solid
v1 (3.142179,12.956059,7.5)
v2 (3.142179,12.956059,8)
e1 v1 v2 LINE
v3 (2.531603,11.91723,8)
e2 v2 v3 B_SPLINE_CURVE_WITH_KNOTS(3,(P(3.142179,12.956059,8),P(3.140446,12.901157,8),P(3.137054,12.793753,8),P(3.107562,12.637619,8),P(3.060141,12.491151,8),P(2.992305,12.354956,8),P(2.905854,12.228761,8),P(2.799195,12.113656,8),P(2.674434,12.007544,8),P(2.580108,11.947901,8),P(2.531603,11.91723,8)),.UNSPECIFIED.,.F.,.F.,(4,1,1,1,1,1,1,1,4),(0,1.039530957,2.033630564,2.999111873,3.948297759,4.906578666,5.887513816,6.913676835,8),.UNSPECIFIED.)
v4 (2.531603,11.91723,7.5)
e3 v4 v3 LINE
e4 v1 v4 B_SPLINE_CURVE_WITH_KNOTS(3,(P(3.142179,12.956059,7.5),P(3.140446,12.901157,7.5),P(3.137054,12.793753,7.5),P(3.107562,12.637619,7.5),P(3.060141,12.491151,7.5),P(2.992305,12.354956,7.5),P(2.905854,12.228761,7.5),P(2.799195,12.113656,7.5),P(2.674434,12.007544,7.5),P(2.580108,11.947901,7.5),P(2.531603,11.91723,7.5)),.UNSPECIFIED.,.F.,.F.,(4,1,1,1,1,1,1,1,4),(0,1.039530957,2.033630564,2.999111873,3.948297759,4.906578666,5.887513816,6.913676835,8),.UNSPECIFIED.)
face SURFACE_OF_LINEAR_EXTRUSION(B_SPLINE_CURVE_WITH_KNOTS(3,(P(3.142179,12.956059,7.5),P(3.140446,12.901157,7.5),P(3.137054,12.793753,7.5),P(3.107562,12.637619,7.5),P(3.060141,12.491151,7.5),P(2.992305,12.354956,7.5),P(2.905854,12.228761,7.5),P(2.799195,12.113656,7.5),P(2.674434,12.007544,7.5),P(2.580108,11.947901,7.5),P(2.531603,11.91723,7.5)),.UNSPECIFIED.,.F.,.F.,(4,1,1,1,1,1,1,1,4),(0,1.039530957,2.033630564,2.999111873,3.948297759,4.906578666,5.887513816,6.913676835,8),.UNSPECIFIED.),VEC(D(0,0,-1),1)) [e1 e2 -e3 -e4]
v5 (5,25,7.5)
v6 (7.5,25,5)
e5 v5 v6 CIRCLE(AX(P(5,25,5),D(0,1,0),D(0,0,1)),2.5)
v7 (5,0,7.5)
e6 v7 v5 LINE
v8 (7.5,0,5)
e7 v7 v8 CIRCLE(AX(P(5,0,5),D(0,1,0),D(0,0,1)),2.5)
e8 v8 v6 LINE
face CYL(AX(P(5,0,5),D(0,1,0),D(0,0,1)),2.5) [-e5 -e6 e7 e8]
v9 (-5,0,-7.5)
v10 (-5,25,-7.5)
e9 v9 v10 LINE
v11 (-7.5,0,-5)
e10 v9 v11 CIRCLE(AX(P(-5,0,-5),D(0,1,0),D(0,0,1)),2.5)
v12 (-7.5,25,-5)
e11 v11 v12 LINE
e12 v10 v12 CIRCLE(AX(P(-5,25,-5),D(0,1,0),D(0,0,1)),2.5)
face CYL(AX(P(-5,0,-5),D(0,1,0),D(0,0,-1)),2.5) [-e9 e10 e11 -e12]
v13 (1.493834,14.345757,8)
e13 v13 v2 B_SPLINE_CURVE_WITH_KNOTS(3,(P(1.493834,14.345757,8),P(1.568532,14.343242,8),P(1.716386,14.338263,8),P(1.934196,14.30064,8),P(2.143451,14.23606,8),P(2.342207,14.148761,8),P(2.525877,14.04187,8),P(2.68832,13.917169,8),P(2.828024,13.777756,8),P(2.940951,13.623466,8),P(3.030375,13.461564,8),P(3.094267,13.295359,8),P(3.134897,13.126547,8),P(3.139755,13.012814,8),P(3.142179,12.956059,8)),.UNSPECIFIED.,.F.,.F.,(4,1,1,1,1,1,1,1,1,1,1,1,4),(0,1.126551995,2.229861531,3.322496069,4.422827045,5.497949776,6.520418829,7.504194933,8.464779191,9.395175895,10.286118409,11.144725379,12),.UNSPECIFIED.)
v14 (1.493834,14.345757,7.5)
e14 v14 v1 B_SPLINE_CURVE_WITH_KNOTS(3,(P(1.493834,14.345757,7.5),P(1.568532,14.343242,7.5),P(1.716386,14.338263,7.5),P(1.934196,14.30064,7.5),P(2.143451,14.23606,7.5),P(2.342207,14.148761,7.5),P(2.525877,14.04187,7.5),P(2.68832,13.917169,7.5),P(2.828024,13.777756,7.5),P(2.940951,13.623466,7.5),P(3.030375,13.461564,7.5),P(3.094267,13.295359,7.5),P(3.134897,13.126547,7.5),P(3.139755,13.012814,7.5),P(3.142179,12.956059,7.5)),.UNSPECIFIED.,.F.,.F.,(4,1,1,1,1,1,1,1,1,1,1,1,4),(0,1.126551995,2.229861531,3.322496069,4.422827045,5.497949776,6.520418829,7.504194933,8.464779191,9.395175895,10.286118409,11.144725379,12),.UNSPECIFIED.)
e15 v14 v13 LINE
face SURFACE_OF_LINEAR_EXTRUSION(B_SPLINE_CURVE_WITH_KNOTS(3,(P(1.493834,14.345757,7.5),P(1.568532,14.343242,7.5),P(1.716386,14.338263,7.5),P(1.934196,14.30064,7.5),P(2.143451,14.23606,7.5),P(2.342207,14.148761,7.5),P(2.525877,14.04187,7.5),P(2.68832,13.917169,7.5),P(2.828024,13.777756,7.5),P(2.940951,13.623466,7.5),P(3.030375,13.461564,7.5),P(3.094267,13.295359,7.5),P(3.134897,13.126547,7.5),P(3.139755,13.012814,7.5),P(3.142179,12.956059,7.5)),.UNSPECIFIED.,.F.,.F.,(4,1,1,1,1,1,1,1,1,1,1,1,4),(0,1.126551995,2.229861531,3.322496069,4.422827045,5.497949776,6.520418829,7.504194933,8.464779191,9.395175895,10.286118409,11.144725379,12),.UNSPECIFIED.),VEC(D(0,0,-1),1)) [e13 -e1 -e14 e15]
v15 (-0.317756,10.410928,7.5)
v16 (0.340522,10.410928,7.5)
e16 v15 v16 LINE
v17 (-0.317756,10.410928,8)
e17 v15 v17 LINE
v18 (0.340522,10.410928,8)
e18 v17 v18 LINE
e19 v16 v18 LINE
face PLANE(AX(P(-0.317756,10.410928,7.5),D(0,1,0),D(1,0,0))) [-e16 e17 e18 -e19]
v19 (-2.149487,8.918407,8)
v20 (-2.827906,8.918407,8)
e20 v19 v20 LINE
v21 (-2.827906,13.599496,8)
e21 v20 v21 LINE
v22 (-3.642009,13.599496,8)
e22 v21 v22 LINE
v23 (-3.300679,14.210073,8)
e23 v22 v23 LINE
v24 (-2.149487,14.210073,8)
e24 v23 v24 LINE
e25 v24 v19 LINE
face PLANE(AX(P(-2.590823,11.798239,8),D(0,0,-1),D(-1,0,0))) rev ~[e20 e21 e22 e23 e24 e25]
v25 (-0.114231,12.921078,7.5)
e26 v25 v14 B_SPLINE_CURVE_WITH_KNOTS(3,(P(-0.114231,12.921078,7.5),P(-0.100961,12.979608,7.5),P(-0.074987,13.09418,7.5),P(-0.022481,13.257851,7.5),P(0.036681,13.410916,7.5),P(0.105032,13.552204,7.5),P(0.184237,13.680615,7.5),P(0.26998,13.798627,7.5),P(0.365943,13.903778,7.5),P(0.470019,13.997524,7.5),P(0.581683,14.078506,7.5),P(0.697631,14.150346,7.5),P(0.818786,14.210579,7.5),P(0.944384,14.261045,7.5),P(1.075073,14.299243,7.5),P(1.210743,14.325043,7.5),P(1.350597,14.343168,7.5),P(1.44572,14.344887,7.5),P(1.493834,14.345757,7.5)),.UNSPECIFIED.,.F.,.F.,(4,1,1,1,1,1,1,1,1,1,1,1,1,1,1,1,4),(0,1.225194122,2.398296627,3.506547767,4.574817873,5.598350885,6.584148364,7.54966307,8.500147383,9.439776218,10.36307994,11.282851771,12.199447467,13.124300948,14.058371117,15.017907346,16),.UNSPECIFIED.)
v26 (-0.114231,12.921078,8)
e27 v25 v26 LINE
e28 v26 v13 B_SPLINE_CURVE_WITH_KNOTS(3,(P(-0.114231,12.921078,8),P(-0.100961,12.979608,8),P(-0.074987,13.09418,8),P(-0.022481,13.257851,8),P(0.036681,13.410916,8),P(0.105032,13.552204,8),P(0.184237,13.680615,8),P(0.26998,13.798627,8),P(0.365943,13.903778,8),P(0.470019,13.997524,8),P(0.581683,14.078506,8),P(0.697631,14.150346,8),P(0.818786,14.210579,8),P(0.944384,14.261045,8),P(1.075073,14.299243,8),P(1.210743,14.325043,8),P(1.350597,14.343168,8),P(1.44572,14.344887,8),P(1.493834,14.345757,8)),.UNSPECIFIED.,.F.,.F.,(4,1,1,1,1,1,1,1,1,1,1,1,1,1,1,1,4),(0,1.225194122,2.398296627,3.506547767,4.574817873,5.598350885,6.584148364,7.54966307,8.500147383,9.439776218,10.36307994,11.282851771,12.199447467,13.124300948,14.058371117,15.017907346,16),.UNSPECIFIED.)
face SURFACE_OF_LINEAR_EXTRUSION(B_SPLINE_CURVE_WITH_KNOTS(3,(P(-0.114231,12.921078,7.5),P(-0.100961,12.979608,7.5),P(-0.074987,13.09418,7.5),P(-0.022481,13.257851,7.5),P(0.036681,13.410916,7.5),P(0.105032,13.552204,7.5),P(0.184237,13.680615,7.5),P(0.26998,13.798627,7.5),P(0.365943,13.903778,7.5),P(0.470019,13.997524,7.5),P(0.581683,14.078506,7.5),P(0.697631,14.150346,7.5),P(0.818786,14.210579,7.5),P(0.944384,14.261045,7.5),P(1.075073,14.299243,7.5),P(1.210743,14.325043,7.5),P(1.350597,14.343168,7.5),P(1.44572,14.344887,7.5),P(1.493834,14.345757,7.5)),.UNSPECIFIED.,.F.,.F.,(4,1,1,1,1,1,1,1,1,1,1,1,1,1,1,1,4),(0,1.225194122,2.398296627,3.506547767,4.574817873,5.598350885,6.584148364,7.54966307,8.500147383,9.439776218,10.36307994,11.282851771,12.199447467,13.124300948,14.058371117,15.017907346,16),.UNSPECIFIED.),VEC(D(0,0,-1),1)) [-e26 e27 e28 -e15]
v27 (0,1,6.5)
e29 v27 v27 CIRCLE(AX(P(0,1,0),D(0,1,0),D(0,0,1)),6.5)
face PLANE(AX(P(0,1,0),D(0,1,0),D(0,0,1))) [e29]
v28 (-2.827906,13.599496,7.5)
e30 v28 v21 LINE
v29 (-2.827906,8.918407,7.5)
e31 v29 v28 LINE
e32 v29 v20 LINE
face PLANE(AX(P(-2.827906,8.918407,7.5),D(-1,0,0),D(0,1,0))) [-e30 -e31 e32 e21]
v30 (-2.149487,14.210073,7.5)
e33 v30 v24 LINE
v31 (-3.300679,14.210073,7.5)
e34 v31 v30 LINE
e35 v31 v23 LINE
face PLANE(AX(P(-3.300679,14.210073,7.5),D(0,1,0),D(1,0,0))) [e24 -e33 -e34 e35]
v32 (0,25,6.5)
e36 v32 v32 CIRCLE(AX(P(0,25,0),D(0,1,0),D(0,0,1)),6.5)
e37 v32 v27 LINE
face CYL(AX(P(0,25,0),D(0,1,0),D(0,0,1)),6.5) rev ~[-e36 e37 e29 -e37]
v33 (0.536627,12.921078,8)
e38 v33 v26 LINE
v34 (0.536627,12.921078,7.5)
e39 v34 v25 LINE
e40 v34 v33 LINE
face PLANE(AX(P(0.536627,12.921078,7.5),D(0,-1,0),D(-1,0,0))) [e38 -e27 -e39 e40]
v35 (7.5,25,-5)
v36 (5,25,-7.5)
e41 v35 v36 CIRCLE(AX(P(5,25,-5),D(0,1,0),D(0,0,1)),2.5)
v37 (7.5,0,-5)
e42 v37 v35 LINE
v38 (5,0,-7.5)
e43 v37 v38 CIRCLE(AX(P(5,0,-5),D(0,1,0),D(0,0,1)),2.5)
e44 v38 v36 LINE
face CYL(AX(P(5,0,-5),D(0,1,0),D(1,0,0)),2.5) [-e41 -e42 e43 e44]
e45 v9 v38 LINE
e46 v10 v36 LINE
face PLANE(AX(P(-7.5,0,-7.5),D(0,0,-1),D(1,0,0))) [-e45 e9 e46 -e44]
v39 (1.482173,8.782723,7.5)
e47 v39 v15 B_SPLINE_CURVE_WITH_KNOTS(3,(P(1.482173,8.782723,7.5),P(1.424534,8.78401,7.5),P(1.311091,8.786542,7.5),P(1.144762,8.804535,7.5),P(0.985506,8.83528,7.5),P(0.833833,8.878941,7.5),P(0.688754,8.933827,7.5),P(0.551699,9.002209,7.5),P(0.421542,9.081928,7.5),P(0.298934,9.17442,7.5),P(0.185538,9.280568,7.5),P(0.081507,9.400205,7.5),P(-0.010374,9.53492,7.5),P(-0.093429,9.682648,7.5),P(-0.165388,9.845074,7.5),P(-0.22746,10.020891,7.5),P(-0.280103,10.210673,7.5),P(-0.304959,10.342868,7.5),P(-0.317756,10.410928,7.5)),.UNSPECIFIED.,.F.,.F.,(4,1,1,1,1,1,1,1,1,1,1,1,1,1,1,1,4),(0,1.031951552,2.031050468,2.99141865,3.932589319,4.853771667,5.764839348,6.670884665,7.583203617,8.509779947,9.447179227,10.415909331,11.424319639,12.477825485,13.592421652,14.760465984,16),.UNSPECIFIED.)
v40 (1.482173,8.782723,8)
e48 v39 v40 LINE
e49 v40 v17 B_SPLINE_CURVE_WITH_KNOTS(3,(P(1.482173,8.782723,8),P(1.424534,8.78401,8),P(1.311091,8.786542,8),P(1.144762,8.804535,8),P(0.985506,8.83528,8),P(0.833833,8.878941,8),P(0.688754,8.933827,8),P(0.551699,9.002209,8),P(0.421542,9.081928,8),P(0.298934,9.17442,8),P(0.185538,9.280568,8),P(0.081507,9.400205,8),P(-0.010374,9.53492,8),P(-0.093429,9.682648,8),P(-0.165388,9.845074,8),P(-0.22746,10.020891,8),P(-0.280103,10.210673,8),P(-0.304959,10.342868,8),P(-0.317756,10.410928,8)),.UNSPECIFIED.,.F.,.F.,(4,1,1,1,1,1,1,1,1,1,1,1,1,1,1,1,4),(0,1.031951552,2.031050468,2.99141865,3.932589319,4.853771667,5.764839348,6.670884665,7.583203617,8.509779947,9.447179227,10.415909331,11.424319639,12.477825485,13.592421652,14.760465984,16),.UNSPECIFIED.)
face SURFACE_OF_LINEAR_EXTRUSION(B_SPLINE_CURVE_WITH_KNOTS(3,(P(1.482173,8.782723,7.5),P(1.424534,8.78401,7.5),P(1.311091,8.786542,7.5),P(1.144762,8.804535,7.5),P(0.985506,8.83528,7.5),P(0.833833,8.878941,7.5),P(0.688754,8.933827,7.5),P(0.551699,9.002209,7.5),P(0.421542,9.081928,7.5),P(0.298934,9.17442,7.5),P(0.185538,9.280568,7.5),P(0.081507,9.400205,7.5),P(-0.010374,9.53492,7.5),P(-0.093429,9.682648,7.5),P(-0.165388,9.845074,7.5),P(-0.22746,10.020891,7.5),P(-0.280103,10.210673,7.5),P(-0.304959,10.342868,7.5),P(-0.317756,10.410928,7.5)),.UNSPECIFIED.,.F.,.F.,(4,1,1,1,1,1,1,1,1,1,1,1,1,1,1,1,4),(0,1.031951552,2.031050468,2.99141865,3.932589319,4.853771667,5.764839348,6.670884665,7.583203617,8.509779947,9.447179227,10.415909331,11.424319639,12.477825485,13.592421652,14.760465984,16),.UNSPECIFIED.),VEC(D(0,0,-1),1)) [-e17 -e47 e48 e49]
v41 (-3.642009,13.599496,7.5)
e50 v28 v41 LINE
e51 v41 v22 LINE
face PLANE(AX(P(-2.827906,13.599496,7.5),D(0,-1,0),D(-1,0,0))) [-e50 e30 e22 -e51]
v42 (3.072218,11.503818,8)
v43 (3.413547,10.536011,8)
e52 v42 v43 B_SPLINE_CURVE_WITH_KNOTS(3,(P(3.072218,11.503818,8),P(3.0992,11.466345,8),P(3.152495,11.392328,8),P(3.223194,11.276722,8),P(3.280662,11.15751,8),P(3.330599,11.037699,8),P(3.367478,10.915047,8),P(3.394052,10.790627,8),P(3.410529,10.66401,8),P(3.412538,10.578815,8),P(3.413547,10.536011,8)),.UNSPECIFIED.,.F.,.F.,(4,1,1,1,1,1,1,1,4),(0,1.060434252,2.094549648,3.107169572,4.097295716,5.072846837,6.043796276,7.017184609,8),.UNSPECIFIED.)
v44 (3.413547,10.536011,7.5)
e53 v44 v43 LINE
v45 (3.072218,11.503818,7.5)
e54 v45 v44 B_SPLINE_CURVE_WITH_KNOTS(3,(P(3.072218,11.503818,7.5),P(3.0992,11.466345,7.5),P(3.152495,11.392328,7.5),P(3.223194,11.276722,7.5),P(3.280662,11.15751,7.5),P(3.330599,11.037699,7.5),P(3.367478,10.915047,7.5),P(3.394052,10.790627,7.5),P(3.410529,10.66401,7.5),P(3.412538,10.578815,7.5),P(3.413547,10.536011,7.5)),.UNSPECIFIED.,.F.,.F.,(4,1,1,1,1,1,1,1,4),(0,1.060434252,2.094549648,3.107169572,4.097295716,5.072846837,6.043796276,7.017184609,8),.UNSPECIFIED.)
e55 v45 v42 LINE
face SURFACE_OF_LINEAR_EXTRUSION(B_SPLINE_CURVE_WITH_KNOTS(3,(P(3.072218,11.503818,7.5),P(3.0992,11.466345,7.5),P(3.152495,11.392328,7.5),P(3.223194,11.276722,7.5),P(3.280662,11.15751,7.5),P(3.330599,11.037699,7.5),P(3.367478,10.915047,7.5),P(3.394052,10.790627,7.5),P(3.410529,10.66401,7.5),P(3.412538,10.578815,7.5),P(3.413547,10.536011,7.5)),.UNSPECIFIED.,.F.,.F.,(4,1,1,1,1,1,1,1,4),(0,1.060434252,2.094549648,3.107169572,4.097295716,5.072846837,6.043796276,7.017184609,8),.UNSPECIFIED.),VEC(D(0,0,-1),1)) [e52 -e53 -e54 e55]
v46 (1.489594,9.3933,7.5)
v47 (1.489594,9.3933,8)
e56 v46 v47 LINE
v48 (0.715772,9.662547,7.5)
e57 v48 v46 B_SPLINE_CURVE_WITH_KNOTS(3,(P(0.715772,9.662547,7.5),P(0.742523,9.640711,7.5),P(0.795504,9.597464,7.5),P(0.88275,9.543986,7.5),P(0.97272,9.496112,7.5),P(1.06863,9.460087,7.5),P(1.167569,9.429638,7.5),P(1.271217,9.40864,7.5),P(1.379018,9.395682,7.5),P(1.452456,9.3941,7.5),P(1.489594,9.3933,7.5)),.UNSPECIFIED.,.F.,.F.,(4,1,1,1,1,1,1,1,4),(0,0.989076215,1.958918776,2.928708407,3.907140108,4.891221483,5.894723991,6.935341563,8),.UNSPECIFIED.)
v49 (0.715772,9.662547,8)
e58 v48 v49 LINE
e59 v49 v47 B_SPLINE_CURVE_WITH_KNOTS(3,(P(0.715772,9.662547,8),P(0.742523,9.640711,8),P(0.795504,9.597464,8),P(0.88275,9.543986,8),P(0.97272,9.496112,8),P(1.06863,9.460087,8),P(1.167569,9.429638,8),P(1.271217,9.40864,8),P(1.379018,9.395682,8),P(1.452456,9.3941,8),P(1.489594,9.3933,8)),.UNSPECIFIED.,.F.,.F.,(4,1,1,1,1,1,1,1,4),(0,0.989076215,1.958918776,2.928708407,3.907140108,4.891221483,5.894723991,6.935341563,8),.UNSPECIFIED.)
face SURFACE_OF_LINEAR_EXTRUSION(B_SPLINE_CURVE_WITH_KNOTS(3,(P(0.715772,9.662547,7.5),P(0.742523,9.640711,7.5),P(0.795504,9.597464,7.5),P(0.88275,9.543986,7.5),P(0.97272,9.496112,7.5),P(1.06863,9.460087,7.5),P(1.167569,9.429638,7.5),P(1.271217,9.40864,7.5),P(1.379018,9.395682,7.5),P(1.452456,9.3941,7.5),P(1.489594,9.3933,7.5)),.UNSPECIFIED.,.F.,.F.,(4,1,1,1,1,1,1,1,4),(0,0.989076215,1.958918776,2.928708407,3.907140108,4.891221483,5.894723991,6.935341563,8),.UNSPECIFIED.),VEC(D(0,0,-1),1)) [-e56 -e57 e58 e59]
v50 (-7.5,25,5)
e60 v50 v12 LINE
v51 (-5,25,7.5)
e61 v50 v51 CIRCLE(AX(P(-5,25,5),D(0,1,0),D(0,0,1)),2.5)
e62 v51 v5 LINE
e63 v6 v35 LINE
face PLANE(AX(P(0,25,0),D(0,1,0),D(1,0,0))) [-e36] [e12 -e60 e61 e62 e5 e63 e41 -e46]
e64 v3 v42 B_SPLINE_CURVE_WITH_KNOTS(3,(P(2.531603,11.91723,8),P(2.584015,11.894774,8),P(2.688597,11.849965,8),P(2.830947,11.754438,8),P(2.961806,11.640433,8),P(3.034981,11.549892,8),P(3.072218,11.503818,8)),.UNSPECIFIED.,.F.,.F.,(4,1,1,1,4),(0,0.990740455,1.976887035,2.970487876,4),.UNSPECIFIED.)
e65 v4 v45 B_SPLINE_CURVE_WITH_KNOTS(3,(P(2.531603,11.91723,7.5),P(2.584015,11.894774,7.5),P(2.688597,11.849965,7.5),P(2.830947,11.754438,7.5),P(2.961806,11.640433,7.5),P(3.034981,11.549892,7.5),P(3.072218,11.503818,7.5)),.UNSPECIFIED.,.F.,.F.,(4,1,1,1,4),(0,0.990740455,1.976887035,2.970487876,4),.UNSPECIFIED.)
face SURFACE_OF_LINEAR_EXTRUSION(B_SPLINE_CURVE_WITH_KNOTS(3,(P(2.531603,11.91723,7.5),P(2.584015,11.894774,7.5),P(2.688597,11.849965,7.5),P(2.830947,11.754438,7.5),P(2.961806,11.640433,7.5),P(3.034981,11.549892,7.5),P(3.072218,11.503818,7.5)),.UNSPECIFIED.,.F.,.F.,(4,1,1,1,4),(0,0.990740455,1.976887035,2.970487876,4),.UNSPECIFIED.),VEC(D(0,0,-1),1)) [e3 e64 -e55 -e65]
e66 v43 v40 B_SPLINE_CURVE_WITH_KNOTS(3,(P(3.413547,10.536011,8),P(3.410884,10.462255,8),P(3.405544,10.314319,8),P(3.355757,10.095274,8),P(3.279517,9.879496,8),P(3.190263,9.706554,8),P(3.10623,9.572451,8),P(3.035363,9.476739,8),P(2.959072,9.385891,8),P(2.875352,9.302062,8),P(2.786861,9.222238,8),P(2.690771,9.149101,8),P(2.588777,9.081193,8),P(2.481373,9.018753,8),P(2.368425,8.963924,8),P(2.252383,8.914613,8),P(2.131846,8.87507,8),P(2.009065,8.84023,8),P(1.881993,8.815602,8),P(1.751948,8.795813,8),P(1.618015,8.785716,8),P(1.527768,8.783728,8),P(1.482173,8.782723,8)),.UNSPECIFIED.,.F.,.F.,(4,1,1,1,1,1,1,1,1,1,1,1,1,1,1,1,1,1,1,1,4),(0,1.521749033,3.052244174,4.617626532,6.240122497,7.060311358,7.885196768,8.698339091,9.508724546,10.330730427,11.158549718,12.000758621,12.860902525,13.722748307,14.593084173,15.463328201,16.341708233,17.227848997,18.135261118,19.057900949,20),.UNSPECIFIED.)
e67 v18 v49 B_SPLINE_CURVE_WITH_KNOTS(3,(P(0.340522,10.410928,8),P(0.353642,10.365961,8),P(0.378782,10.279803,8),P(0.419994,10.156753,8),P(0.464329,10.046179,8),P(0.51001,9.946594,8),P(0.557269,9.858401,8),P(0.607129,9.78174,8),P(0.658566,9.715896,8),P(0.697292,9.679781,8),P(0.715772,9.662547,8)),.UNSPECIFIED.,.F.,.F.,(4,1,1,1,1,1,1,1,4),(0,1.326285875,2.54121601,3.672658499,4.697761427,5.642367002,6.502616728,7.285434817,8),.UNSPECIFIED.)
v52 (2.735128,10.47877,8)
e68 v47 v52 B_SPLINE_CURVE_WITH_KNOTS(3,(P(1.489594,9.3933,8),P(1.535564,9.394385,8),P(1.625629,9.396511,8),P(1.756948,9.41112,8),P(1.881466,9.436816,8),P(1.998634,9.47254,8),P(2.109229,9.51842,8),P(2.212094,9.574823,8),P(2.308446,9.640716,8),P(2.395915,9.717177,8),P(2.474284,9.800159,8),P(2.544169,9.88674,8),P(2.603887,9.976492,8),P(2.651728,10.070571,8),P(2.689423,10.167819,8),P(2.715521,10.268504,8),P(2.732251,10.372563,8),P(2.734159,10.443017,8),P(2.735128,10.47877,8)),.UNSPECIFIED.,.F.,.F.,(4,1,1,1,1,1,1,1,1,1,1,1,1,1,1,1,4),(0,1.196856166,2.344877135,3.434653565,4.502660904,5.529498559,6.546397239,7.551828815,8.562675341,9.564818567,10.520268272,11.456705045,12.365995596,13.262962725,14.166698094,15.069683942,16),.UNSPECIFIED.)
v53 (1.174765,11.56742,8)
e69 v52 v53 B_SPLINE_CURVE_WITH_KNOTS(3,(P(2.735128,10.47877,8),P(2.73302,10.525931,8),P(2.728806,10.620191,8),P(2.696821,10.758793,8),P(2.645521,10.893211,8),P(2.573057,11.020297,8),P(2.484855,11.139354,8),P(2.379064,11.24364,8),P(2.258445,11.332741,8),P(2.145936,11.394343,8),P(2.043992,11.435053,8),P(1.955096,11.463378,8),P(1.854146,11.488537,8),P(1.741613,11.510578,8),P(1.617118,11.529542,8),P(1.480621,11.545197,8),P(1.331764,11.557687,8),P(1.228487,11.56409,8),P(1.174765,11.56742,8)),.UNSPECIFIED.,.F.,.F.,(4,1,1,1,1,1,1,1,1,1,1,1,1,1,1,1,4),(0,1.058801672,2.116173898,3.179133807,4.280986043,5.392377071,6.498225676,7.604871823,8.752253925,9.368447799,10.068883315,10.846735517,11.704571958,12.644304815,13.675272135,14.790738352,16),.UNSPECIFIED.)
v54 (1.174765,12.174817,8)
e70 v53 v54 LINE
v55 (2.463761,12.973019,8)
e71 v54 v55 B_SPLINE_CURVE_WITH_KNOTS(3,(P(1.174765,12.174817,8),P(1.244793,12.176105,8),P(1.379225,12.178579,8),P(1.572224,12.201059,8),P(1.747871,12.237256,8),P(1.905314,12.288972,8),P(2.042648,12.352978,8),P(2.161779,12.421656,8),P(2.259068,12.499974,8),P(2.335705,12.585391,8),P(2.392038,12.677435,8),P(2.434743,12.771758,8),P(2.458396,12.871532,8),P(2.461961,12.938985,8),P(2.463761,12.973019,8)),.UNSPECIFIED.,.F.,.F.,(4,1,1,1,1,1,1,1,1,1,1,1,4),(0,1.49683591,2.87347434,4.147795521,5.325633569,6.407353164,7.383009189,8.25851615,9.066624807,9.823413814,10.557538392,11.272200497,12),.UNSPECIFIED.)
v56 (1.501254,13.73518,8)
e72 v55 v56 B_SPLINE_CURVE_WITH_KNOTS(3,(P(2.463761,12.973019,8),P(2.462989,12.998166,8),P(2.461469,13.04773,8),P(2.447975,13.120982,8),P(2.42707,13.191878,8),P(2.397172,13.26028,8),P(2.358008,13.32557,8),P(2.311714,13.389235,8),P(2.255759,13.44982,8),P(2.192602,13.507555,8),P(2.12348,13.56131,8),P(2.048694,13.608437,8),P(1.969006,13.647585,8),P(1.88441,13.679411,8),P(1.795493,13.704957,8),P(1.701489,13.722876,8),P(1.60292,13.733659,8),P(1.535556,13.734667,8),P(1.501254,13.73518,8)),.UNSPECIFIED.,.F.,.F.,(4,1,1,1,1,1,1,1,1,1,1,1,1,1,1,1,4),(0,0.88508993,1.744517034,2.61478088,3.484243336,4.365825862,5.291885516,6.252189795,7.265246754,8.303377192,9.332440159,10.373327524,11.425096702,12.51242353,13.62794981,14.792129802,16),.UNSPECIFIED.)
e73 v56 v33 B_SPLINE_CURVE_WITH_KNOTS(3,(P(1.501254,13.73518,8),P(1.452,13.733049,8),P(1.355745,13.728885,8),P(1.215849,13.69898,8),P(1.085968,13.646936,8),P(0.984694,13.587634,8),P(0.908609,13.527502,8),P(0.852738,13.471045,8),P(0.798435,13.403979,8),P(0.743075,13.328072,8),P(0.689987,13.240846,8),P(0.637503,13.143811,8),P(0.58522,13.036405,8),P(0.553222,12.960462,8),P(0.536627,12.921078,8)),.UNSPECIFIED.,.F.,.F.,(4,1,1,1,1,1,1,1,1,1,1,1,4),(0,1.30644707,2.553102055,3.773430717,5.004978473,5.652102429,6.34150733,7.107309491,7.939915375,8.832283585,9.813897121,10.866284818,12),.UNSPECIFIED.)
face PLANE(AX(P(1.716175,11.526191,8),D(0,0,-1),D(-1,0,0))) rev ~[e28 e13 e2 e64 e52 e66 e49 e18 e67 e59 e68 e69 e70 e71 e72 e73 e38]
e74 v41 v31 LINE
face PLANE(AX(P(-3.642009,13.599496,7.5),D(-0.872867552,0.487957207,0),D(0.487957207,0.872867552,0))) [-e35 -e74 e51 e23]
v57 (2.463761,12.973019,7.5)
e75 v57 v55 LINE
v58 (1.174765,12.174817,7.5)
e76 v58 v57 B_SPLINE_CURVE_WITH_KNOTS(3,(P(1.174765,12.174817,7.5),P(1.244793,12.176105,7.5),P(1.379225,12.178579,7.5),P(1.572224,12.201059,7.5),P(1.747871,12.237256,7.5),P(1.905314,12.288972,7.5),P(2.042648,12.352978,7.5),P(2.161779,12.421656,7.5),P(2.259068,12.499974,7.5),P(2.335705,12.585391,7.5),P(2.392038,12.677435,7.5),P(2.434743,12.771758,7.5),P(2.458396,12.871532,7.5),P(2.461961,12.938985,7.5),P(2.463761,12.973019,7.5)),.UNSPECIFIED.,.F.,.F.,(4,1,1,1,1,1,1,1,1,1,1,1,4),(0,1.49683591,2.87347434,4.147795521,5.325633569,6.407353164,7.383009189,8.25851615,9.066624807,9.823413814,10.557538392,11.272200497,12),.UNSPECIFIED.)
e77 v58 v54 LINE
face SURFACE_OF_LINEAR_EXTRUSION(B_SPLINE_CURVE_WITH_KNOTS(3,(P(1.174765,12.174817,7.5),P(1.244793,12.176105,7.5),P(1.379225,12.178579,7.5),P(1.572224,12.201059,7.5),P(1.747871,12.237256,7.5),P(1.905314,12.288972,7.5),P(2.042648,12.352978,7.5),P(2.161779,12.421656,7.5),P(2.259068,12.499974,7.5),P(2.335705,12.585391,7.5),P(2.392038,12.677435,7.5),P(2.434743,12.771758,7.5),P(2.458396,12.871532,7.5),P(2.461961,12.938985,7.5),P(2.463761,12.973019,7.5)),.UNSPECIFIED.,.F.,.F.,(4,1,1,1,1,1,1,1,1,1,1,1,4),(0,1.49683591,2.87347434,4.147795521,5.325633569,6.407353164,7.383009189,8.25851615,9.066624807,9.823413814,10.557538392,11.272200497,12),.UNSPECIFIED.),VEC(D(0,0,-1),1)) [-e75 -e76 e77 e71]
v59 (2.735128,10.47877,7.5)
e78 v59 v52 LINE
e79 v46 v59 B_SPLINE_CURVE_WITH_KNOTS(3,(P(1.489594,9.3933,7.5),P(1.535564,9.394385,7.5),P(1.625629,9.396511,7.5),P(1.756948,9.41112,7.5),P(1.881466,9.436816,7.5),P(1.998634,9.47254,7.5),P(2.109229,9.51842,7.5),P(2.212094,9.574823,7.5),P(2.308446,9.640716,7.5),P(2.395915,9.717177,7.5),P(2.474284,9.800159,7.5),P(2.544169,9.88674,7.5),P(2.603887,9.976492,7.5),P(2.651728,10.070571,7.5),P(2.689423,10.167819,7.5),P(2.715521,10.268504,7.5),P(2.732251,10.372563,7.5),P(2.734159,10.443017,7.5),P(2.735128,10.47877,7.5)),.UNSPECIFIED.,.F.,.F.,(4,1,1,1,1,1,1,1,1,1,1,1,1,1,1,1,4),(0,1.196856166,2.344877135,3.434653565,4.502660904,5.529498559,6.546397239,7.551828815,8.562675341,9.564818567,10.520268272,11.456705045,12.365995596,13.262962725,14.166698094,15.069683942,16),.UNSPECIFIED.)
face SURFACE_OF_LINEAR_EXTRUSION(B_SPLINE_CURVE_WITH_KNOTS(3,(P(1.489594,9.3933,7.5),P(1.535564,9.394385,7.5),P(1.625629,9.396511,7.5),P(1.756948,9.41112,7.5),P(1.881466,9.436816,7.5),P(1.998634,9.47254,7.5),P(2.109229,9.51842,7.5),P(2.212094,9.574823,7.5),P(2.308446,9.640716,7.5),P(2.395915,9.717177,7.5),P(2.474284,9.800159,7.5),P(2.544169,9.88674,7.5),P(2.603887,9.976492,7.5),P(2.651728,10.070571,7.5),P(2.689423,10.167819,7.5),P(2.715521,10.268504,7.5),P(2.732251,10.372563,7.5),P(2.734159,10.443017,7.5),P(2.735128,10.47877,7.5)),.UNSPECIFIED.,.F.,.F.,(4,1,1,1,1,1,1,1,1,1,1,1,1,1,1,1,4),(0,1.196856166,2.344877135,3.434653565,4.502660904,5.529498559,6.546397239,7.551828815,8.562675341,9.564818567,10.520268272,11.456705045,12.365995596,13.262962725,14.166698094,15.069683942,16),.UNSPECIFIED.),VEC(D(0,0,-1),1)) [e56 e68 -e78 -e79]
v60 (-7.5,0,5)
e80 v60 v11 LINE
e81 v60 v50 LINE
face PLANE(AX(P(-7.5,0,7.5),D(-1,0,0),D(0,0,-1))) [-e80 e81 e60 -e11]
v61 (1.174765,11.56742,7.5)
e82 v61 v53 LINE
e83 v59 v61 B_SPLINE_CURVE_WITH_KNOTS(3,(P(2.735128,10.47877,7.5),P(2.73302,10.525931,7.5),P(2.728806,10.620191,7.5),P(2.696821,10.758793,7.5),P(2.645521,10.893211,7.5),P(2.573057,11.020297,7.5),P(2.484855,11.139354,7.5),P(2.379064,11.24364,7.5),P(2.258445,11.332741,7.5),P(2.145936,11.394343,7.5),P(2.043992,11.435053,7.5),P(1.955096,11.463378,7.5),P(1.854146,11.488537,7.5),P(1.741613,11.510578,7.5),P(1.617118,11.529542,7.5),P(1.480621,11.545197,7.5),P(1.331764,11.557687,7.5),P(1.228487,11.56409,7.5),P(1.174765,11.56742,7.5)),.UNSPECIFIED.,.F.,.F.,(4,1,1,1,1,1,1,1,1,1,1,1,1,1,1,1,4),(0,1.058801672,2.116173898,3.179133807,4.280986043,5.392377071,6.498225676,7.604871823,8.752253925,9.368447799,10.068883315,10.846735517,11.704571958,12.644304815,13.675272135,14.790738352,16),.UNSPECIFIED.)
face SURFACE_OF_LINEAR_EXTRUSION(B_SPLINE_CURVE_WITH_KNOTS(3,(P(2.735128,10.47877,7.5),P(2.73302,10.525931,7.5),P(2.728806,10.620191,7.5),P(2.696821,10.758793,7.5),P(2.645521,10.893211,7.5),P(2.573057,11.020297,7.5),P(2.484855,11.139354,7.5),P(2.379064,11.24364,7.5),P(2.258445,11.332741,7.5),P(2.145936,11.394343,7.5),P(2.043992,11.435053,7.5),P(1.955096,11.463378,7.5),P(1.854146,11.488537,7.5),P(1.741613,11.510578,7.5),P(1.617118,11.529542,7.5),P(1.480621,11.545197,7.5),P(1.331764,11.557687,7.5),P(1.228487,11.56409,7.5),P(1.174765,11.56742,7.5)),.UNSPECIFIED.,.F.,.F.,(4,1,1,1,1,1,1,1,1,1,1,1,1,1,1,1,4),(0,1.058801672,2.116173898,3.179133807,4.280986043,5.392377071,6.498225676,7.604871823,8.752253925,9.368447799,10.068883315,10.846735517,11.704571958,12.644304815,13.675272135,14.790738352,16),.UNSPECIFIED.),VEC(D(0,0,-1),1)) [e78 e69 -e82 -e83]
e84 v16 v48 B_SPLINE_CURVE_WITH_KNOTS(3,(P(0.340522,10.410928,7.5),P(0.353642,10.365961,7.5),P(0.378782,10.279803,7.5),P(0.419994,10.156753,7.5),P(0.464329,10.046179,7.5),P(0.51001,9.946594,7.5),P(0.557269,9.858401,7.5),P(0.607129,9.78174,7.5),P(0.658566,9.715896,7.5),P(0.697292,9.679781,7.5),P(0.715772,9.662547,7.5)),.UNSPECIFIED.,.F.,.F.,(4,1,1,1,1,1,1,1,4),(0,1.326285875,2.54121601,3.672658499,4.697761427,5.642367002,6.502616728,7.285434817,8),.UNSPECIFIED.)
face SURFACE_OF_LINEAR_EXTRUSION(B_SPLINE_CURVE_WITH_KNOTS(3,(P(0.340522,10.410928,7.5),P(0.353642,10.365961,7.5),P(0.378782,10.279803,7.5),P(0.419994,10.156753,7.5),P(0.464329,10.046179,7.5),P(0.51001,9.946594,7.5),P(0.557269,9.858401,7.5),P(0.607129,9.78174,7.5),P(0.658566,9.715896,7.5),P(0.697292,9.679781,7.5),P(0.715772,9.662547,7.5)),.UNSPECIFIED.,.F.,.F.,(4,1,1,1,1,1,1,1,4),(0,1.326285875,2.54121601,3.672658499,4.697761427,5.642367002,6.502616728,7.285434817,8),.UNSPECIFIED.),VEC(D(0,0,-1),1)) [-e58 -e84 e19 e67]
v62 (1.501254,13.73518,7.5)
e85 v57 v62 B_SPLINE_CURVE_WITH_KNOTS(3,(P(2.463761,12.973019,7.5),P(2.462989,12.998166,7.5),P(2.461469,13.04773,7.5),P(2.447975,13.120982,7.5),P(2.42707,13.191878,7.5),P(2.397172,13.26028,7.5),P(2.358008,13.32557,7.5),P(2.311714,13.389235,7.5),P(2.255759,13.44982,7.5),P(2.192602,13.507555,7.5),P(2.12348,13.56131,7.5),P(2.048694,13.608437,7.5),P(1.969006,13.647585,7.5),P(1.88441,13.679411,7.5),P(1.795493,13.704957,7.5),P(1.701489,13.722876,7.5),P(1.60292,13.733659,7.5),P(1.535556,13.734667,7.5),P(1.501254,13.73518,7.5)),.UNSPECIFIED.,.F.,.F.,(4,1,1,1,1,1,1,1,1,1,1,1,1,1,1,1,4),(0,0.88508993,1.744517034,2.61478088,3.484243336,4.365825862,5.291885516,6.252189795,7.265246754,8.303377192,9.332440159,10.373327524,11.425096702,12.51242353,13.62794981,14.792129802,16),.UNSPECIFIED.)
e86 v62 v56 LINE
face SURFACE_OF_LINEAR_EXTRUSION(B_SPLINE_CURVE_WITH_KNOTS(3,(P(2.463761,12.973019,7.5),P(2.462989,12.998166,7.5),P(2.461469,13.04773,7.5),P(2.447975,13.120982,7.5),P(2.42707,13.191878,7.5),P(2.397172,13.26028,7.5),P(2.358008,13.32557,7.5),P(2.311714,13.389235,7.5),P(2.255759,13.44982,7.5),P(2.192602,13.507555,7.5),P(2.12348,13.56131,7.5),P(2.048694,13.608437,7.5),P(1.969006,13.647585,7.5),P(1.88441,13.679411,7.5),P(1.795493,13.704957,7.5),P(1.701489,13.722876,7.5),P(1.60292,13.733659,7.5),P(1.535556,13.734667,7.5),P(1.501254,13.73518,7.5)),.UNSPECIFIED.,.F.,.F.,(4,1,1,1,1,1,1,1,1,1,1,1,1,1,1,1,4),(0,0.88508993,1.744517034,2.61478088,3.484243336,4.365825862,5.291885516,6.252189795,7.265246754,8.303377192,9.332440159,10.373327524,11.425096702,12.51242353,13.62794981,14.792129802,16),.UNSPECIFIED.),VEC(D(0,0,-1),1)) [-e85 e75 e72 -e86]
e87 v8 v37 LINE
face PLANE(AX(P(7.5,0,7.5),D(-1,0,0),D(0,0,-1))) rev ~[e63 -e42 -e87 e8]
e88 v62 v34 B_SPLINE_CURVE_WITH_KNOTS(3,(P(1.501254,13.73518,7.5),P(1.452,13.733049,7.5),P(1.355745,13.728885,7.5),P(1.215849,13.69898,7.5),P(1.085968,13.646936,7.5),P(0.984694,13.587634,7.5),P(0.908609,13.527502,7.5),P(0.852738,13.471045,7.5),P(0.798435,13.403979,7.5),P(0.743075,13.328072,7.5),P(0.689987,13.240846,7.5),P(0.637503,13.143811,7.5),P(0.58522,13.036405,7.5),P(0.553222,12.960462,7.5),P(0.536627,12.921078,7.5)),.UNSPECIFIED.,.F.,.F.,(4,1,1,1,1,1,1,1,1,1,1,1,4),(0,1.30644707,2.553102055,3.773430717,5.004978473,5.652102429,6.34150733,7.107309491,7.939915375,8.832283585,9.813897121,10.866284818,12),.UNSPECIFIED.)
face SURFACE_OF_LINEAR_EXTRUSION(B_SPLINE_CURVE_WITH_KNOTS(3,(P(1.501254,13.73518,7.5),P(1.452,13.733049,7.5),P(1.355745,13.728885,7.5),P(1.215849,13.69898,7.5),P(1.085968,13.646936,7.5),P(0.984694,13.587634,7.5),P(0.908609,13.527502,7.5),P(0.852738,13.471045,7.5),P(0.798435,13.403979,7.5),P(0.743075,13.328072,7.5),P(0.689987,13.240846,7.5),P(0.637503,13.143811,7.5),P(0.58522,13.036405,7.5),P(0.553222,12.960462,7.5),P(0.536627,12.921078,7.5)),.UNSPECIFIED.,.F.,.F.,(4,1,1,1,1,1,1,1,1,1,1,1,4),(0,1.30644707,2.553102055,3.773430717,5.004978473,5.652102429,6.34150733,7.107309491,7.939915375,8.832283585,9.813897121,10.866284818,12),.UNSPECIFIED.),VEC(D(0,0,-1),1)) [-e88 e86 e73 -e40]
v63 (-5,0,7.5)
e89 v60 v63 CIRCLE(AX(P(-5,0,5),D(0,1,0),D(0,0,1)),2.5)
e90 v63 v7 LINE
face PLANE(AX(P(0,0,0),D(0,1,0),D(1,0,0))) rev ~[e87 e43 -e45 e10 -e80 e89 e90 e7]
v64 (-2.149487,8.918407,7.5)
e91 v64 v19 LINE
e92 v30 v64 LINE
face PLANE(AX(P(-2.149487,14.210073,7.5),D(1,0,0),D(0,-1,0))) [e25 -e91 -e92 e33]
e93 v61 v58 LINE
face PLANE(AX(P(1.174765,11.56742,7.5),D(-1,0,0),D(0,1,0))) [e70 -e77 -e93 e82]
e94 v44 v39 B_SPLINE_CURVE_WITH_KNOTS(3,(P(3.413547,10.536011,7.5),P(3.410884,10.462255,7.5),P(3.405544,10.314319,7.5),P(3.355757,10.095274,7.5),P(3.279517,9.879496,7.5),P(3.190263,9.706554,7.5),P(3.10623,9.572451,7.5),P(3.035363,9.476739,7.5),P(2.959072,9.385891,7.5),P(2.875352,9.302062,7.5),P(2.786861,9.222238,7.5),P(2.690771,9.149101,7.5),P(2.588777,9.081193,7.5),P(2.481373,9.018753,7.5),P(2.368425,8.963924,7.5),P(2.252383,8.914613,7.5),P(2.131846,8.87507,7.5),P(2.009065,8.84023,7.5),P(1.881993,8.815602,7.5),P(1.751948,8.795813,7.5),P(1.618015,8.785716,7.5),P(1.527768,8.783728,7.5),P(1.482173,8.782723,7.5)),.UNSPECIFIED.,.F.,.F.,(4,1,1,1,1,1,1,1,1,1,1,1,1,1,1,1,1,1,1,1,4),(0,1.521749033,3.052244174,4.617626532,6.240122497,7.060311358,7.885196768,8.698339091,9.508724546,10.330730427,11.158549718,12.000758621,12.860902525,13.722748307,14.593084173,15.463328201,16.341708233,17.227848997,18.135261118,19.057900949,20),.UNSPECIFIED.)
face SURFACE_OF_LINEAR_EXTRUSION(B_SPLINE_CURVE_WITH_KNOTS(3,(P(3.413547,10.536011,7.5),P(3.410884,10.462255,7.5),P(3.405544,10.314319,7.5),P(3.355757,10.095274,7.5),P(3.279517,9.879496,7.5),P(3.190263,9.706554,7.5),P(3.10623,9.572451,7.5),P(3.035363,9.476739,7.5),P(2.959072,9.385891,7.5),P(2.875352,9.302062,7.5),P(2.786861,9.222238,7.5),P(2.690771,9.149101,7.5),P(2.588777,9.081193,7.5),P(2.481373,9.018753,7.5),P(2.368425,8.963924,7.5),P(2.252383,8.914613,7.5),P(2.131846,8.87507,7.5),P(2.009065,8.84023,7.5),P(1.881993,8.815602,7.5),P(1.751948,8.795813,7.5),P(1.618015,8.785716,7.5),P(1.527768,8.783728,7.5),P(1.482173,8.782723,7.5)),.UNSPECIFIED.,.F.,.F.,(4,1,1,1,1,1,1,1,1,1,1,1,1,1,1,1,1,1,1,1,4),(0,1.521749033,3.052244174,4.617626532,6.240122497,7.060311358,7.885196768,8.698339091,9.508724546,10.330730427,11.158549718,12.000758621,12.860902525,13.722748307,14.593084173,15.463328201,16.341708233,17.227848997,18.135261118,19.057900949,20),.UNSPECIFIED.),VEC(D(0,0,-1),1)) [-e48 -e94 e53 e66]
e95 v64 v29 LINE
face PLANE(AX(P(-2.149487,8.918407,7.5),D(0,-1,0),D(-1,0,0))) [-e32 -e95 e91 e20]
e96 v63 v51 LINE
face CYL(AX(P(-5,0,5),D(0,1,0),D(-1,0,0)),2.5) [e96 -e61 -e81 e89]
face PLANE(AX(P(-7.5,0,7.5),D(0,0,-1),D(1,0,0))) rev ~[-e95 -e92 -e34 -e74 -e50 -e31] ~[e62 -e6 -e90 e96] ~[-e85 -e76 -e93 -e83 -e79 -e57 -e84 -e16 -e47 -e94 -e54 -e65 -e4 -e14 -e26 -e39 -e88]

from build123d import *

# Parameters (mm, degrees)
SKETCH1_W           = 15
SKETCH1_H           = 15
BOSS_EXTRUDE1_DEPTH = 25
SKETCH2_R           = 6.5
CUT_EXTRUDE1_DEPTH  = 24
BOSS_EXTRUDE3_DEPTH = 0.5
FILLET1_R           = 2.5
FILLET2_R           = 2.5
FILLET3_R           = 2.5
FILLET4_R           = 2.5


with BuildPart() as part:
    # Sketch1 → Boss-Extrude1 (new body)
    with BuildSketch(Plane(origin=(0, 0, 0), x_dir=(1, 0, 0), z_dir=(0, 1, 0))):
        Rectangle(SKETCH1_W, SKETCH1_H)
    extrude(amount=BOSS_EXTRUDE1_DEPTH)

    # Sketch2 → Cut-Extrude1 (cut)
    with BuildSketch(Plane(origin=(0, 25, 0), x_dir=(1, 0, 0), z_dir=(0, 1, 0))):
        with Locations(Location((0, 0, 0), (0, 0, 270))):
            Circle(SKETCH2_R)
    extrude(amount=-CUT_EXTRUDE1_DEPTH, mode=Mode.SUBTRACT)

    # Sketch3 → Boss-Extrude3 (add)
    with BuildSketch(Plane.XY.offset(7.5)):
        Polygon((-3.300679086, 14.210073329), (-2.149487179, 14.210073329), (-2.149487179, 8.918406662), (-2.827905982, 8.918406662), (-2.827905982, 13.599496406), (-3.642008546, 13.599496406), align=None)
        with BuildLine():
            Line((0.536627271, 12.921077603), (-0.114230768, 12.921077603))
            add(Edge.make_bspline(
                [(-0.114230768, 12.921077603), (-0.100961493, 12.97960801), (-0.074987112, 13.094180286), (-0.022481053, 13.257850992), (0.036681085, 13.410915565), (0.105032166, 13.552204246), (0.18423708, 13.680615371), (0.269979947, 13.798627118), (0.365943067, 13.903778446), (0.470019389, 13.997523947), (0.581683486, 14.078506256), (0.697631037, 14.150346176), (0.818785512, 14.210579109), (0.944384477, 14.26104525), (1.07507306, 14.299243023), (1.210742775, 14.325043417), (1.350596953, 14.343167819), (1.445719829, 14.344887341), (1.493833802, 14.34575709)],
                knots=[0, 0, 0, 0, 1.225194122, 2.398296627, 3.506547767, 4.574817873, 5.598350885, 6.584148364, 7.54966307, 8.500147383, 9.439776218, 10.36307994, 11.282851771, 12.199447467, 13.124300948, 14.058371117, 15.017907346, 16, 16, 16, 16], degree=3))
            add(Edge.make_bspline(
                [(1.493833802, 14.34575709), (1.568531598, 14.343241617), (1.716386062, 14.338262569), (1.934195583, 14.30064004), (2.143451442, 14.236059647), (2.342206832, 14.148760529), (2.525877316, 14.041870431), (2.688320429, 13.917169074), (2.828024385, 13.777755988), (2.940950824, 13.623466287), (3.030374612, 13.461564399), (3.094266969, 13.295358681), (3.134897281, 13.126546953), (3.139755234, 13.012814321), (3.142179488, 12.956058572)],
                knots=[0, 0, 0, 0, 1.126551995, 2.229861531, 3.322496069, 4.422827045, 5.497949776, 6.520418829, 7.504194933, 8.464779191, 9.395175895, 10.286118409, 11.144725379, 12, 12, 12, 12], degree=3))
            add(Edge.make_bspline(
                [(3.142179488, 12.956058572), (3.140445745, 12.901156816), (3.137054029, 12.793752712), (3.107562398, 12.637619364), (3.060141337, 12.491151022), (2.992304739, 12.354955699), (2.905853989, 12.228760675), (2.799194916, 12.113655832), (2.674433691, 12.007543566), (2.580108351, 11.947900553), (2.531602565, 11.917229779)],
                knots=[0, 0, 0, 0, 1.039530957, 2.033630564, 2.999111873, 3.948297759, 4.906578666, 5.887513816, 6.913676835, 8, 8, 8, 8], degree=3))
            add(Edge.make_bspline(
                [(2.531602565, 11.917229779), (2.584015029, 11.894773533), (2.688596929, 11.849965164), (2.830947045, 11.754438191), (2.961806101, 11.640433311), (3.034980771, 11.549892367), (3.072217549, 11.503818321)],
                knots=[0, 0, 0, 0, 0.990740455, 1.976887035, 2.970487876, 4, 4, 4, 4], degree=3))
            add(Edge.make_bspline(
                [(3.072217549, 11.503818321), (3.099199896, 11.466345), (3.152494918, 11.392328407), (3.223193721, 11.27672227), (3.280661614, 11.15750979), (3.330599467, 11.03769875), (3.36747824, 10.915047449), (3.394052073, 10.790627171), (3.410528936, 10.664010495), (3.412537758, 10.578814684), (3.413547009, 10.536011497)],
                knots=[0, 0, 0, 0, 1.060434252, 2.094549648, 3.107169572, 4.097295716, 5.072846837, 6.043796276, 7.017184609, 8, 8, 8, 8], degree=3))
            add(Edge.make_bspline(
                [(3.413547009, 10.536011497), (3.410884478, 10.462255283), (3.405544113, 10.314318949), (3.355756698, 10.095274277), (3.279517444, 9.87949602), (3.190263242, 9.706554209), (3.106229875, 9.572451392), (3.035363238, 9.476738788), (2.959072469, 9.385890858), (2.875352239, 9.302061826), (2.786861322, 9.222237669), (2.690771017, 9.149101484), (2.588777456, 9.08119272), (2.481373466, 9.018753249), (2.368425447, 8.963923848), (2.25238329, 8.914613155), (2.131846342, 8.875070384), (2.009065285, 8.840230397), (1.881992689, 8.815601905), (1.751948266, 8.795813187), (1.618014874, 8.78571627), (1.527767864, 8.783727609), (1.482173479, 8.782722902)],
                knots=[0, 0, 0, 0, 1.521749033, 3.052244174, 4.617626532, 6.240122497, 7.060311358, 7.885196768, 8.698339091, 9.508724546, 10.330730427, 11.158549718, 12.000758621, 12.860902525, 13.722748307, 14.593084173, 15.463328201, 16.341708233, 17.227848997, 18.135261118, 19.057900949, 20, 20, 20, 20], degree=3))
            add(Edge.make_bspline(
                [(1.482173479, 8.782722902), (1.424534496, 8.784009629), (1.311091495, 8.786542119), (1.144761754, 8.80453533), (0.985505782, 8.835279516), (0.833832902, 8.878940615), (0.688754462, 8.933826723), (0.551698785, 9.002209379), (0.421541769, 9.081928184), (0.298933599, 9.17442013), (0.185538343, 9.280567865), (0.081506968, 9.400204964), (-0.010374271, 9.534920483), (-0.093429441, 9.682647813), (-0.165387817, 9.845073744), (-0.2274602, 10.020890903), (-0.280102876, 10.210673196), (-0.304959207, 10.342867972), (-0.317756409, 10.41092803)],
                knots=[0, 0, 0, 0, 1.031951552, 2.031050468, 2.99141865, 3.932589319, 4.853771667, 5.764839348, 6.670884665, 7.583203617, 8.509779947, 9.447179227, 10.415909331, 11.424319639, 12.477825485, 13.592421652, 14.760465984, 16, 16, 16, 16], degree=3))
            Line((-0.317756409, 10.41092803), (0.340521836, 10.41092803))
            add(Edge.make_bspline(
                [(0.340521836, 10.41092803), (0.353642264, 10.365961117), (0.378781523, 10.27980274), (0.419994104, 10.156753231), (0.464328654, 10.046178878), (0.510010421, 9.946594394), (0.557269249, 9.858400707), (0.607129332, 9.781740097), (0.658566183, 9.715895757), (0.697291944, 9.679781396), (0.715772237, 9.662547287)],
                knots=[0, 0, 0, 0, 1.326285875, 2.54121601, 3.672658499, 4.697761427, 5.642367002, 6.502616728, 7.285434817, 8, 8, 8, 8], degree=3))
            add(Edge.make_bspline(
                [(0.715772237, 9.662547287), (0.742522938, 9.640711231), (0.795504144, 9.597463744), (0.882749756, 9.543986167), (0.972720363, 9.496111587), (1.068630016, 9.460087268), (1.167568548, 9.429638048), (1.271216907, 9.408640374), (1.37901821, 9.395682345), (1.452455657, 9.394100021), (1.489593684, 9.393299825)],
                knots=[0, 0, 0, 0, 0.989076215, 1.958918776, 2.928708407, 3.907140108, 4.891221483, 5.894723991, 6.935341563, 8, 8, 8, 8], degree=3))
            add(Edge.make_bspline(
                [(1.489593684, 9.393299825), (1.535564055, 9.394385116), (1.625629073, 9.396511414), (1.756948364, 9.411119566), (1.881465881, 9.436816065), (1.998634057, 9.472540053), (2.109229372, 9.518420277), (2.212093691, 9.574823167), (2.308446041, 9.640715678), (2.395915, 9.717176651), (2.474283993, 9.800159305), (2.544168737, 9.886739881), (2.603887301, 9.976492114), (2.651728418, 10.070571325), (2.689422936, 10.167818589), (2.715520817, 10.268504187), (2.732250533, 10.372562903), (2.734159496, 10.443017471), (2.735128206, 10.47876991)],
                knots=[0, 0, 0, 0, 1.196856166, 2.344877135, 3.434653565, 4.502660904, 5.529498559, 6.546397239, 7.551828815, 8.562675341, 9.564818567, 10.520268272, 11.456705045, 12.365995596, 13.262962725, 14.166698094, 15.069683942, 16, 16, 16, 16], degree=3))
            add(Edge.make_bspline(
                [(2.735128206, 10.47876991), (2.733019747, 10.525931359), (2.728805675, 10.620190586), (2.696820658, 10.758793296), (2.645521251, 10.893210689), (2.573056785, 11.020296841), (2.484855208, 11.139353782), (2.379063635, 11.243639788), (2.258444845, 11.332741278), (2.145936485, 11.394343128), (2.04399224, 11.435052667), (1.955096408, 11.463378228), (1.854145901, 11.488537229), (1.741612839, 11.510578276), (1.61711797, 11.529541882), (1.480621111, 11.545196857), (1.331763956, 11.55768696), (1.228486925, 11.5640896), (1.174764958, 11.567420084)],
                knots=[0, 0, 0, 0, 1.058801672, 2.116173898, 3.179133807, 4.280986043, 5.392377071, 6.498225676, 7.604871823, 8.752253925, 9.368447799, 10.068883315, 10.846735517, 11.704571958, 12.644304815, 13.675272135, 14.790738352, 16, 16, 16, 16], degree=3))
            Line((1.174764958, 11.567420084), (1.174764958, 12.174816919))
            add(Edge.make_bspline(
                [(1.174764958, 12.174816919), (1.244792803, 12.176105368), (1.379225183, 12.178578803), (1.572223534, 12.201059455), (1.747870691, 12.237255938), (1.905314059, 12.288971698), (2.042647935, 12.35297773), (2.161778734, 12.421655594), (2.259068443, 12.499974424), (2.335704951, 12.585390944), (2.392038085, 12.677435042), (2.43474333, 12.771757648), (2.458395507, 12.871531566), (2.461961466, 12.938985103), (2.463760685, 12.973019042)],
                knots=[0, 0, 0, 0, 1.49683591, 2.87347434, 4.147795521, 5.325633569, 6.407353164, 7.383009189, 8.25851615, 9.066624807, 9.823413814, 10.557538392, 11.272200497, 12, 12, 12, 12], degree=3))
            add(Edge.make_bspline(
                [(2.463760685, 12.973019042), (2.462989319, 12.998165871), (2.461468952, 13.047730405), (2.447975215, 13.120981745), (2.427069851, 13.191877769), (2.3971723, 13.260279908), (2.358008252, 13.325569974), (2.311713599, 13.389235409), (2.255758848, 13.449820095), (2.192602073, 13.507555086), (2.123479924, 13.561310327), (2.048694297, 13.608437464), (1.969006195, 13.647585237), (1.884409587, 13.67941094), (1.795493257, 13.704957023), (1.701488974, 13.722876037), (1.602919685, 13.73365892), (1.535556151, 13.734666896), (1.501254007, 13.735180167)],
                knots=[0, 0, 0, 0, 0.88508993, 1.744517034, 2.61478088, 3.484243336, 4.365825862, 5.291885516, 6.252189795, 7.265246754, 8.303377192, 9.332440159, 10.373327524, 11.425096702, 12.51242353, 13.62794981, 14.792129802, 16, 16, 16, 16], degree=3))
            add(Edge.make_bspline(
                [(1.501254007, 13.735180167), (1.451999534, 13.733049362), (1.355744815, 13.728885274), (1.215849293, 13.698979708), (1.08596836, 13.646935622), (0.984693576, 13.587633927), (0.908608791, 13.527502106), (0.852738473, 13.471044634), (0.798434832, 13.40397858), (0.743075275, 13.32807166), (0.689987439, 13.24084643), (0.637503486, 13.143811145), (0.585220048, 13.036405205), (0.553221665, 12.960461885), (0.536627271, 12.921077603)],
                knots=[0, 0, 0, 0, 1.30644707, 2.553102055, 3.773430717, 5.004978473, 5.652102429, 6.34150733, 7.107309491, 7.939915375, 8.832283585, 9.813897121, 10.866284818, 12, 12, 12, 12], degree=3))
        make_face()
    extrude(amount=BOSS_EXTRUDE3_DEPTH)

    # Fillet1
    fillet1_edges = [part.edges().sort_by_distance(p)[0] for p in [
        (-7.5, 12.5, 7.5),
    ]]
    fillet(fillet1_edges, radius=FILLET1_R)

    # Fillet2
    fillet2_edges = [part.edges().sort_by_distance(p)[0] for p in [
        (7.5, 12.5, 7.5),
    ]]
    fillet(fillet2_edges, radius=FILLET2_R)

    # Fillet3
    fillet3_edges = [part.edges().sort_by_distance(p)[0] for p in [
        (7.5, 12.5, -7.5),
    ]]
    fillet(fillet3_edges, radius=FILLET3_R)

    # Fillet4
    fillet4_edges = [part.edges().sort_by_distance(p)[0] for p in [
        (-7.5, 12.5, -7.5),
    ]]
    fillet(fillet4_edges, radius=FILLET4_R)


solid = part.part
